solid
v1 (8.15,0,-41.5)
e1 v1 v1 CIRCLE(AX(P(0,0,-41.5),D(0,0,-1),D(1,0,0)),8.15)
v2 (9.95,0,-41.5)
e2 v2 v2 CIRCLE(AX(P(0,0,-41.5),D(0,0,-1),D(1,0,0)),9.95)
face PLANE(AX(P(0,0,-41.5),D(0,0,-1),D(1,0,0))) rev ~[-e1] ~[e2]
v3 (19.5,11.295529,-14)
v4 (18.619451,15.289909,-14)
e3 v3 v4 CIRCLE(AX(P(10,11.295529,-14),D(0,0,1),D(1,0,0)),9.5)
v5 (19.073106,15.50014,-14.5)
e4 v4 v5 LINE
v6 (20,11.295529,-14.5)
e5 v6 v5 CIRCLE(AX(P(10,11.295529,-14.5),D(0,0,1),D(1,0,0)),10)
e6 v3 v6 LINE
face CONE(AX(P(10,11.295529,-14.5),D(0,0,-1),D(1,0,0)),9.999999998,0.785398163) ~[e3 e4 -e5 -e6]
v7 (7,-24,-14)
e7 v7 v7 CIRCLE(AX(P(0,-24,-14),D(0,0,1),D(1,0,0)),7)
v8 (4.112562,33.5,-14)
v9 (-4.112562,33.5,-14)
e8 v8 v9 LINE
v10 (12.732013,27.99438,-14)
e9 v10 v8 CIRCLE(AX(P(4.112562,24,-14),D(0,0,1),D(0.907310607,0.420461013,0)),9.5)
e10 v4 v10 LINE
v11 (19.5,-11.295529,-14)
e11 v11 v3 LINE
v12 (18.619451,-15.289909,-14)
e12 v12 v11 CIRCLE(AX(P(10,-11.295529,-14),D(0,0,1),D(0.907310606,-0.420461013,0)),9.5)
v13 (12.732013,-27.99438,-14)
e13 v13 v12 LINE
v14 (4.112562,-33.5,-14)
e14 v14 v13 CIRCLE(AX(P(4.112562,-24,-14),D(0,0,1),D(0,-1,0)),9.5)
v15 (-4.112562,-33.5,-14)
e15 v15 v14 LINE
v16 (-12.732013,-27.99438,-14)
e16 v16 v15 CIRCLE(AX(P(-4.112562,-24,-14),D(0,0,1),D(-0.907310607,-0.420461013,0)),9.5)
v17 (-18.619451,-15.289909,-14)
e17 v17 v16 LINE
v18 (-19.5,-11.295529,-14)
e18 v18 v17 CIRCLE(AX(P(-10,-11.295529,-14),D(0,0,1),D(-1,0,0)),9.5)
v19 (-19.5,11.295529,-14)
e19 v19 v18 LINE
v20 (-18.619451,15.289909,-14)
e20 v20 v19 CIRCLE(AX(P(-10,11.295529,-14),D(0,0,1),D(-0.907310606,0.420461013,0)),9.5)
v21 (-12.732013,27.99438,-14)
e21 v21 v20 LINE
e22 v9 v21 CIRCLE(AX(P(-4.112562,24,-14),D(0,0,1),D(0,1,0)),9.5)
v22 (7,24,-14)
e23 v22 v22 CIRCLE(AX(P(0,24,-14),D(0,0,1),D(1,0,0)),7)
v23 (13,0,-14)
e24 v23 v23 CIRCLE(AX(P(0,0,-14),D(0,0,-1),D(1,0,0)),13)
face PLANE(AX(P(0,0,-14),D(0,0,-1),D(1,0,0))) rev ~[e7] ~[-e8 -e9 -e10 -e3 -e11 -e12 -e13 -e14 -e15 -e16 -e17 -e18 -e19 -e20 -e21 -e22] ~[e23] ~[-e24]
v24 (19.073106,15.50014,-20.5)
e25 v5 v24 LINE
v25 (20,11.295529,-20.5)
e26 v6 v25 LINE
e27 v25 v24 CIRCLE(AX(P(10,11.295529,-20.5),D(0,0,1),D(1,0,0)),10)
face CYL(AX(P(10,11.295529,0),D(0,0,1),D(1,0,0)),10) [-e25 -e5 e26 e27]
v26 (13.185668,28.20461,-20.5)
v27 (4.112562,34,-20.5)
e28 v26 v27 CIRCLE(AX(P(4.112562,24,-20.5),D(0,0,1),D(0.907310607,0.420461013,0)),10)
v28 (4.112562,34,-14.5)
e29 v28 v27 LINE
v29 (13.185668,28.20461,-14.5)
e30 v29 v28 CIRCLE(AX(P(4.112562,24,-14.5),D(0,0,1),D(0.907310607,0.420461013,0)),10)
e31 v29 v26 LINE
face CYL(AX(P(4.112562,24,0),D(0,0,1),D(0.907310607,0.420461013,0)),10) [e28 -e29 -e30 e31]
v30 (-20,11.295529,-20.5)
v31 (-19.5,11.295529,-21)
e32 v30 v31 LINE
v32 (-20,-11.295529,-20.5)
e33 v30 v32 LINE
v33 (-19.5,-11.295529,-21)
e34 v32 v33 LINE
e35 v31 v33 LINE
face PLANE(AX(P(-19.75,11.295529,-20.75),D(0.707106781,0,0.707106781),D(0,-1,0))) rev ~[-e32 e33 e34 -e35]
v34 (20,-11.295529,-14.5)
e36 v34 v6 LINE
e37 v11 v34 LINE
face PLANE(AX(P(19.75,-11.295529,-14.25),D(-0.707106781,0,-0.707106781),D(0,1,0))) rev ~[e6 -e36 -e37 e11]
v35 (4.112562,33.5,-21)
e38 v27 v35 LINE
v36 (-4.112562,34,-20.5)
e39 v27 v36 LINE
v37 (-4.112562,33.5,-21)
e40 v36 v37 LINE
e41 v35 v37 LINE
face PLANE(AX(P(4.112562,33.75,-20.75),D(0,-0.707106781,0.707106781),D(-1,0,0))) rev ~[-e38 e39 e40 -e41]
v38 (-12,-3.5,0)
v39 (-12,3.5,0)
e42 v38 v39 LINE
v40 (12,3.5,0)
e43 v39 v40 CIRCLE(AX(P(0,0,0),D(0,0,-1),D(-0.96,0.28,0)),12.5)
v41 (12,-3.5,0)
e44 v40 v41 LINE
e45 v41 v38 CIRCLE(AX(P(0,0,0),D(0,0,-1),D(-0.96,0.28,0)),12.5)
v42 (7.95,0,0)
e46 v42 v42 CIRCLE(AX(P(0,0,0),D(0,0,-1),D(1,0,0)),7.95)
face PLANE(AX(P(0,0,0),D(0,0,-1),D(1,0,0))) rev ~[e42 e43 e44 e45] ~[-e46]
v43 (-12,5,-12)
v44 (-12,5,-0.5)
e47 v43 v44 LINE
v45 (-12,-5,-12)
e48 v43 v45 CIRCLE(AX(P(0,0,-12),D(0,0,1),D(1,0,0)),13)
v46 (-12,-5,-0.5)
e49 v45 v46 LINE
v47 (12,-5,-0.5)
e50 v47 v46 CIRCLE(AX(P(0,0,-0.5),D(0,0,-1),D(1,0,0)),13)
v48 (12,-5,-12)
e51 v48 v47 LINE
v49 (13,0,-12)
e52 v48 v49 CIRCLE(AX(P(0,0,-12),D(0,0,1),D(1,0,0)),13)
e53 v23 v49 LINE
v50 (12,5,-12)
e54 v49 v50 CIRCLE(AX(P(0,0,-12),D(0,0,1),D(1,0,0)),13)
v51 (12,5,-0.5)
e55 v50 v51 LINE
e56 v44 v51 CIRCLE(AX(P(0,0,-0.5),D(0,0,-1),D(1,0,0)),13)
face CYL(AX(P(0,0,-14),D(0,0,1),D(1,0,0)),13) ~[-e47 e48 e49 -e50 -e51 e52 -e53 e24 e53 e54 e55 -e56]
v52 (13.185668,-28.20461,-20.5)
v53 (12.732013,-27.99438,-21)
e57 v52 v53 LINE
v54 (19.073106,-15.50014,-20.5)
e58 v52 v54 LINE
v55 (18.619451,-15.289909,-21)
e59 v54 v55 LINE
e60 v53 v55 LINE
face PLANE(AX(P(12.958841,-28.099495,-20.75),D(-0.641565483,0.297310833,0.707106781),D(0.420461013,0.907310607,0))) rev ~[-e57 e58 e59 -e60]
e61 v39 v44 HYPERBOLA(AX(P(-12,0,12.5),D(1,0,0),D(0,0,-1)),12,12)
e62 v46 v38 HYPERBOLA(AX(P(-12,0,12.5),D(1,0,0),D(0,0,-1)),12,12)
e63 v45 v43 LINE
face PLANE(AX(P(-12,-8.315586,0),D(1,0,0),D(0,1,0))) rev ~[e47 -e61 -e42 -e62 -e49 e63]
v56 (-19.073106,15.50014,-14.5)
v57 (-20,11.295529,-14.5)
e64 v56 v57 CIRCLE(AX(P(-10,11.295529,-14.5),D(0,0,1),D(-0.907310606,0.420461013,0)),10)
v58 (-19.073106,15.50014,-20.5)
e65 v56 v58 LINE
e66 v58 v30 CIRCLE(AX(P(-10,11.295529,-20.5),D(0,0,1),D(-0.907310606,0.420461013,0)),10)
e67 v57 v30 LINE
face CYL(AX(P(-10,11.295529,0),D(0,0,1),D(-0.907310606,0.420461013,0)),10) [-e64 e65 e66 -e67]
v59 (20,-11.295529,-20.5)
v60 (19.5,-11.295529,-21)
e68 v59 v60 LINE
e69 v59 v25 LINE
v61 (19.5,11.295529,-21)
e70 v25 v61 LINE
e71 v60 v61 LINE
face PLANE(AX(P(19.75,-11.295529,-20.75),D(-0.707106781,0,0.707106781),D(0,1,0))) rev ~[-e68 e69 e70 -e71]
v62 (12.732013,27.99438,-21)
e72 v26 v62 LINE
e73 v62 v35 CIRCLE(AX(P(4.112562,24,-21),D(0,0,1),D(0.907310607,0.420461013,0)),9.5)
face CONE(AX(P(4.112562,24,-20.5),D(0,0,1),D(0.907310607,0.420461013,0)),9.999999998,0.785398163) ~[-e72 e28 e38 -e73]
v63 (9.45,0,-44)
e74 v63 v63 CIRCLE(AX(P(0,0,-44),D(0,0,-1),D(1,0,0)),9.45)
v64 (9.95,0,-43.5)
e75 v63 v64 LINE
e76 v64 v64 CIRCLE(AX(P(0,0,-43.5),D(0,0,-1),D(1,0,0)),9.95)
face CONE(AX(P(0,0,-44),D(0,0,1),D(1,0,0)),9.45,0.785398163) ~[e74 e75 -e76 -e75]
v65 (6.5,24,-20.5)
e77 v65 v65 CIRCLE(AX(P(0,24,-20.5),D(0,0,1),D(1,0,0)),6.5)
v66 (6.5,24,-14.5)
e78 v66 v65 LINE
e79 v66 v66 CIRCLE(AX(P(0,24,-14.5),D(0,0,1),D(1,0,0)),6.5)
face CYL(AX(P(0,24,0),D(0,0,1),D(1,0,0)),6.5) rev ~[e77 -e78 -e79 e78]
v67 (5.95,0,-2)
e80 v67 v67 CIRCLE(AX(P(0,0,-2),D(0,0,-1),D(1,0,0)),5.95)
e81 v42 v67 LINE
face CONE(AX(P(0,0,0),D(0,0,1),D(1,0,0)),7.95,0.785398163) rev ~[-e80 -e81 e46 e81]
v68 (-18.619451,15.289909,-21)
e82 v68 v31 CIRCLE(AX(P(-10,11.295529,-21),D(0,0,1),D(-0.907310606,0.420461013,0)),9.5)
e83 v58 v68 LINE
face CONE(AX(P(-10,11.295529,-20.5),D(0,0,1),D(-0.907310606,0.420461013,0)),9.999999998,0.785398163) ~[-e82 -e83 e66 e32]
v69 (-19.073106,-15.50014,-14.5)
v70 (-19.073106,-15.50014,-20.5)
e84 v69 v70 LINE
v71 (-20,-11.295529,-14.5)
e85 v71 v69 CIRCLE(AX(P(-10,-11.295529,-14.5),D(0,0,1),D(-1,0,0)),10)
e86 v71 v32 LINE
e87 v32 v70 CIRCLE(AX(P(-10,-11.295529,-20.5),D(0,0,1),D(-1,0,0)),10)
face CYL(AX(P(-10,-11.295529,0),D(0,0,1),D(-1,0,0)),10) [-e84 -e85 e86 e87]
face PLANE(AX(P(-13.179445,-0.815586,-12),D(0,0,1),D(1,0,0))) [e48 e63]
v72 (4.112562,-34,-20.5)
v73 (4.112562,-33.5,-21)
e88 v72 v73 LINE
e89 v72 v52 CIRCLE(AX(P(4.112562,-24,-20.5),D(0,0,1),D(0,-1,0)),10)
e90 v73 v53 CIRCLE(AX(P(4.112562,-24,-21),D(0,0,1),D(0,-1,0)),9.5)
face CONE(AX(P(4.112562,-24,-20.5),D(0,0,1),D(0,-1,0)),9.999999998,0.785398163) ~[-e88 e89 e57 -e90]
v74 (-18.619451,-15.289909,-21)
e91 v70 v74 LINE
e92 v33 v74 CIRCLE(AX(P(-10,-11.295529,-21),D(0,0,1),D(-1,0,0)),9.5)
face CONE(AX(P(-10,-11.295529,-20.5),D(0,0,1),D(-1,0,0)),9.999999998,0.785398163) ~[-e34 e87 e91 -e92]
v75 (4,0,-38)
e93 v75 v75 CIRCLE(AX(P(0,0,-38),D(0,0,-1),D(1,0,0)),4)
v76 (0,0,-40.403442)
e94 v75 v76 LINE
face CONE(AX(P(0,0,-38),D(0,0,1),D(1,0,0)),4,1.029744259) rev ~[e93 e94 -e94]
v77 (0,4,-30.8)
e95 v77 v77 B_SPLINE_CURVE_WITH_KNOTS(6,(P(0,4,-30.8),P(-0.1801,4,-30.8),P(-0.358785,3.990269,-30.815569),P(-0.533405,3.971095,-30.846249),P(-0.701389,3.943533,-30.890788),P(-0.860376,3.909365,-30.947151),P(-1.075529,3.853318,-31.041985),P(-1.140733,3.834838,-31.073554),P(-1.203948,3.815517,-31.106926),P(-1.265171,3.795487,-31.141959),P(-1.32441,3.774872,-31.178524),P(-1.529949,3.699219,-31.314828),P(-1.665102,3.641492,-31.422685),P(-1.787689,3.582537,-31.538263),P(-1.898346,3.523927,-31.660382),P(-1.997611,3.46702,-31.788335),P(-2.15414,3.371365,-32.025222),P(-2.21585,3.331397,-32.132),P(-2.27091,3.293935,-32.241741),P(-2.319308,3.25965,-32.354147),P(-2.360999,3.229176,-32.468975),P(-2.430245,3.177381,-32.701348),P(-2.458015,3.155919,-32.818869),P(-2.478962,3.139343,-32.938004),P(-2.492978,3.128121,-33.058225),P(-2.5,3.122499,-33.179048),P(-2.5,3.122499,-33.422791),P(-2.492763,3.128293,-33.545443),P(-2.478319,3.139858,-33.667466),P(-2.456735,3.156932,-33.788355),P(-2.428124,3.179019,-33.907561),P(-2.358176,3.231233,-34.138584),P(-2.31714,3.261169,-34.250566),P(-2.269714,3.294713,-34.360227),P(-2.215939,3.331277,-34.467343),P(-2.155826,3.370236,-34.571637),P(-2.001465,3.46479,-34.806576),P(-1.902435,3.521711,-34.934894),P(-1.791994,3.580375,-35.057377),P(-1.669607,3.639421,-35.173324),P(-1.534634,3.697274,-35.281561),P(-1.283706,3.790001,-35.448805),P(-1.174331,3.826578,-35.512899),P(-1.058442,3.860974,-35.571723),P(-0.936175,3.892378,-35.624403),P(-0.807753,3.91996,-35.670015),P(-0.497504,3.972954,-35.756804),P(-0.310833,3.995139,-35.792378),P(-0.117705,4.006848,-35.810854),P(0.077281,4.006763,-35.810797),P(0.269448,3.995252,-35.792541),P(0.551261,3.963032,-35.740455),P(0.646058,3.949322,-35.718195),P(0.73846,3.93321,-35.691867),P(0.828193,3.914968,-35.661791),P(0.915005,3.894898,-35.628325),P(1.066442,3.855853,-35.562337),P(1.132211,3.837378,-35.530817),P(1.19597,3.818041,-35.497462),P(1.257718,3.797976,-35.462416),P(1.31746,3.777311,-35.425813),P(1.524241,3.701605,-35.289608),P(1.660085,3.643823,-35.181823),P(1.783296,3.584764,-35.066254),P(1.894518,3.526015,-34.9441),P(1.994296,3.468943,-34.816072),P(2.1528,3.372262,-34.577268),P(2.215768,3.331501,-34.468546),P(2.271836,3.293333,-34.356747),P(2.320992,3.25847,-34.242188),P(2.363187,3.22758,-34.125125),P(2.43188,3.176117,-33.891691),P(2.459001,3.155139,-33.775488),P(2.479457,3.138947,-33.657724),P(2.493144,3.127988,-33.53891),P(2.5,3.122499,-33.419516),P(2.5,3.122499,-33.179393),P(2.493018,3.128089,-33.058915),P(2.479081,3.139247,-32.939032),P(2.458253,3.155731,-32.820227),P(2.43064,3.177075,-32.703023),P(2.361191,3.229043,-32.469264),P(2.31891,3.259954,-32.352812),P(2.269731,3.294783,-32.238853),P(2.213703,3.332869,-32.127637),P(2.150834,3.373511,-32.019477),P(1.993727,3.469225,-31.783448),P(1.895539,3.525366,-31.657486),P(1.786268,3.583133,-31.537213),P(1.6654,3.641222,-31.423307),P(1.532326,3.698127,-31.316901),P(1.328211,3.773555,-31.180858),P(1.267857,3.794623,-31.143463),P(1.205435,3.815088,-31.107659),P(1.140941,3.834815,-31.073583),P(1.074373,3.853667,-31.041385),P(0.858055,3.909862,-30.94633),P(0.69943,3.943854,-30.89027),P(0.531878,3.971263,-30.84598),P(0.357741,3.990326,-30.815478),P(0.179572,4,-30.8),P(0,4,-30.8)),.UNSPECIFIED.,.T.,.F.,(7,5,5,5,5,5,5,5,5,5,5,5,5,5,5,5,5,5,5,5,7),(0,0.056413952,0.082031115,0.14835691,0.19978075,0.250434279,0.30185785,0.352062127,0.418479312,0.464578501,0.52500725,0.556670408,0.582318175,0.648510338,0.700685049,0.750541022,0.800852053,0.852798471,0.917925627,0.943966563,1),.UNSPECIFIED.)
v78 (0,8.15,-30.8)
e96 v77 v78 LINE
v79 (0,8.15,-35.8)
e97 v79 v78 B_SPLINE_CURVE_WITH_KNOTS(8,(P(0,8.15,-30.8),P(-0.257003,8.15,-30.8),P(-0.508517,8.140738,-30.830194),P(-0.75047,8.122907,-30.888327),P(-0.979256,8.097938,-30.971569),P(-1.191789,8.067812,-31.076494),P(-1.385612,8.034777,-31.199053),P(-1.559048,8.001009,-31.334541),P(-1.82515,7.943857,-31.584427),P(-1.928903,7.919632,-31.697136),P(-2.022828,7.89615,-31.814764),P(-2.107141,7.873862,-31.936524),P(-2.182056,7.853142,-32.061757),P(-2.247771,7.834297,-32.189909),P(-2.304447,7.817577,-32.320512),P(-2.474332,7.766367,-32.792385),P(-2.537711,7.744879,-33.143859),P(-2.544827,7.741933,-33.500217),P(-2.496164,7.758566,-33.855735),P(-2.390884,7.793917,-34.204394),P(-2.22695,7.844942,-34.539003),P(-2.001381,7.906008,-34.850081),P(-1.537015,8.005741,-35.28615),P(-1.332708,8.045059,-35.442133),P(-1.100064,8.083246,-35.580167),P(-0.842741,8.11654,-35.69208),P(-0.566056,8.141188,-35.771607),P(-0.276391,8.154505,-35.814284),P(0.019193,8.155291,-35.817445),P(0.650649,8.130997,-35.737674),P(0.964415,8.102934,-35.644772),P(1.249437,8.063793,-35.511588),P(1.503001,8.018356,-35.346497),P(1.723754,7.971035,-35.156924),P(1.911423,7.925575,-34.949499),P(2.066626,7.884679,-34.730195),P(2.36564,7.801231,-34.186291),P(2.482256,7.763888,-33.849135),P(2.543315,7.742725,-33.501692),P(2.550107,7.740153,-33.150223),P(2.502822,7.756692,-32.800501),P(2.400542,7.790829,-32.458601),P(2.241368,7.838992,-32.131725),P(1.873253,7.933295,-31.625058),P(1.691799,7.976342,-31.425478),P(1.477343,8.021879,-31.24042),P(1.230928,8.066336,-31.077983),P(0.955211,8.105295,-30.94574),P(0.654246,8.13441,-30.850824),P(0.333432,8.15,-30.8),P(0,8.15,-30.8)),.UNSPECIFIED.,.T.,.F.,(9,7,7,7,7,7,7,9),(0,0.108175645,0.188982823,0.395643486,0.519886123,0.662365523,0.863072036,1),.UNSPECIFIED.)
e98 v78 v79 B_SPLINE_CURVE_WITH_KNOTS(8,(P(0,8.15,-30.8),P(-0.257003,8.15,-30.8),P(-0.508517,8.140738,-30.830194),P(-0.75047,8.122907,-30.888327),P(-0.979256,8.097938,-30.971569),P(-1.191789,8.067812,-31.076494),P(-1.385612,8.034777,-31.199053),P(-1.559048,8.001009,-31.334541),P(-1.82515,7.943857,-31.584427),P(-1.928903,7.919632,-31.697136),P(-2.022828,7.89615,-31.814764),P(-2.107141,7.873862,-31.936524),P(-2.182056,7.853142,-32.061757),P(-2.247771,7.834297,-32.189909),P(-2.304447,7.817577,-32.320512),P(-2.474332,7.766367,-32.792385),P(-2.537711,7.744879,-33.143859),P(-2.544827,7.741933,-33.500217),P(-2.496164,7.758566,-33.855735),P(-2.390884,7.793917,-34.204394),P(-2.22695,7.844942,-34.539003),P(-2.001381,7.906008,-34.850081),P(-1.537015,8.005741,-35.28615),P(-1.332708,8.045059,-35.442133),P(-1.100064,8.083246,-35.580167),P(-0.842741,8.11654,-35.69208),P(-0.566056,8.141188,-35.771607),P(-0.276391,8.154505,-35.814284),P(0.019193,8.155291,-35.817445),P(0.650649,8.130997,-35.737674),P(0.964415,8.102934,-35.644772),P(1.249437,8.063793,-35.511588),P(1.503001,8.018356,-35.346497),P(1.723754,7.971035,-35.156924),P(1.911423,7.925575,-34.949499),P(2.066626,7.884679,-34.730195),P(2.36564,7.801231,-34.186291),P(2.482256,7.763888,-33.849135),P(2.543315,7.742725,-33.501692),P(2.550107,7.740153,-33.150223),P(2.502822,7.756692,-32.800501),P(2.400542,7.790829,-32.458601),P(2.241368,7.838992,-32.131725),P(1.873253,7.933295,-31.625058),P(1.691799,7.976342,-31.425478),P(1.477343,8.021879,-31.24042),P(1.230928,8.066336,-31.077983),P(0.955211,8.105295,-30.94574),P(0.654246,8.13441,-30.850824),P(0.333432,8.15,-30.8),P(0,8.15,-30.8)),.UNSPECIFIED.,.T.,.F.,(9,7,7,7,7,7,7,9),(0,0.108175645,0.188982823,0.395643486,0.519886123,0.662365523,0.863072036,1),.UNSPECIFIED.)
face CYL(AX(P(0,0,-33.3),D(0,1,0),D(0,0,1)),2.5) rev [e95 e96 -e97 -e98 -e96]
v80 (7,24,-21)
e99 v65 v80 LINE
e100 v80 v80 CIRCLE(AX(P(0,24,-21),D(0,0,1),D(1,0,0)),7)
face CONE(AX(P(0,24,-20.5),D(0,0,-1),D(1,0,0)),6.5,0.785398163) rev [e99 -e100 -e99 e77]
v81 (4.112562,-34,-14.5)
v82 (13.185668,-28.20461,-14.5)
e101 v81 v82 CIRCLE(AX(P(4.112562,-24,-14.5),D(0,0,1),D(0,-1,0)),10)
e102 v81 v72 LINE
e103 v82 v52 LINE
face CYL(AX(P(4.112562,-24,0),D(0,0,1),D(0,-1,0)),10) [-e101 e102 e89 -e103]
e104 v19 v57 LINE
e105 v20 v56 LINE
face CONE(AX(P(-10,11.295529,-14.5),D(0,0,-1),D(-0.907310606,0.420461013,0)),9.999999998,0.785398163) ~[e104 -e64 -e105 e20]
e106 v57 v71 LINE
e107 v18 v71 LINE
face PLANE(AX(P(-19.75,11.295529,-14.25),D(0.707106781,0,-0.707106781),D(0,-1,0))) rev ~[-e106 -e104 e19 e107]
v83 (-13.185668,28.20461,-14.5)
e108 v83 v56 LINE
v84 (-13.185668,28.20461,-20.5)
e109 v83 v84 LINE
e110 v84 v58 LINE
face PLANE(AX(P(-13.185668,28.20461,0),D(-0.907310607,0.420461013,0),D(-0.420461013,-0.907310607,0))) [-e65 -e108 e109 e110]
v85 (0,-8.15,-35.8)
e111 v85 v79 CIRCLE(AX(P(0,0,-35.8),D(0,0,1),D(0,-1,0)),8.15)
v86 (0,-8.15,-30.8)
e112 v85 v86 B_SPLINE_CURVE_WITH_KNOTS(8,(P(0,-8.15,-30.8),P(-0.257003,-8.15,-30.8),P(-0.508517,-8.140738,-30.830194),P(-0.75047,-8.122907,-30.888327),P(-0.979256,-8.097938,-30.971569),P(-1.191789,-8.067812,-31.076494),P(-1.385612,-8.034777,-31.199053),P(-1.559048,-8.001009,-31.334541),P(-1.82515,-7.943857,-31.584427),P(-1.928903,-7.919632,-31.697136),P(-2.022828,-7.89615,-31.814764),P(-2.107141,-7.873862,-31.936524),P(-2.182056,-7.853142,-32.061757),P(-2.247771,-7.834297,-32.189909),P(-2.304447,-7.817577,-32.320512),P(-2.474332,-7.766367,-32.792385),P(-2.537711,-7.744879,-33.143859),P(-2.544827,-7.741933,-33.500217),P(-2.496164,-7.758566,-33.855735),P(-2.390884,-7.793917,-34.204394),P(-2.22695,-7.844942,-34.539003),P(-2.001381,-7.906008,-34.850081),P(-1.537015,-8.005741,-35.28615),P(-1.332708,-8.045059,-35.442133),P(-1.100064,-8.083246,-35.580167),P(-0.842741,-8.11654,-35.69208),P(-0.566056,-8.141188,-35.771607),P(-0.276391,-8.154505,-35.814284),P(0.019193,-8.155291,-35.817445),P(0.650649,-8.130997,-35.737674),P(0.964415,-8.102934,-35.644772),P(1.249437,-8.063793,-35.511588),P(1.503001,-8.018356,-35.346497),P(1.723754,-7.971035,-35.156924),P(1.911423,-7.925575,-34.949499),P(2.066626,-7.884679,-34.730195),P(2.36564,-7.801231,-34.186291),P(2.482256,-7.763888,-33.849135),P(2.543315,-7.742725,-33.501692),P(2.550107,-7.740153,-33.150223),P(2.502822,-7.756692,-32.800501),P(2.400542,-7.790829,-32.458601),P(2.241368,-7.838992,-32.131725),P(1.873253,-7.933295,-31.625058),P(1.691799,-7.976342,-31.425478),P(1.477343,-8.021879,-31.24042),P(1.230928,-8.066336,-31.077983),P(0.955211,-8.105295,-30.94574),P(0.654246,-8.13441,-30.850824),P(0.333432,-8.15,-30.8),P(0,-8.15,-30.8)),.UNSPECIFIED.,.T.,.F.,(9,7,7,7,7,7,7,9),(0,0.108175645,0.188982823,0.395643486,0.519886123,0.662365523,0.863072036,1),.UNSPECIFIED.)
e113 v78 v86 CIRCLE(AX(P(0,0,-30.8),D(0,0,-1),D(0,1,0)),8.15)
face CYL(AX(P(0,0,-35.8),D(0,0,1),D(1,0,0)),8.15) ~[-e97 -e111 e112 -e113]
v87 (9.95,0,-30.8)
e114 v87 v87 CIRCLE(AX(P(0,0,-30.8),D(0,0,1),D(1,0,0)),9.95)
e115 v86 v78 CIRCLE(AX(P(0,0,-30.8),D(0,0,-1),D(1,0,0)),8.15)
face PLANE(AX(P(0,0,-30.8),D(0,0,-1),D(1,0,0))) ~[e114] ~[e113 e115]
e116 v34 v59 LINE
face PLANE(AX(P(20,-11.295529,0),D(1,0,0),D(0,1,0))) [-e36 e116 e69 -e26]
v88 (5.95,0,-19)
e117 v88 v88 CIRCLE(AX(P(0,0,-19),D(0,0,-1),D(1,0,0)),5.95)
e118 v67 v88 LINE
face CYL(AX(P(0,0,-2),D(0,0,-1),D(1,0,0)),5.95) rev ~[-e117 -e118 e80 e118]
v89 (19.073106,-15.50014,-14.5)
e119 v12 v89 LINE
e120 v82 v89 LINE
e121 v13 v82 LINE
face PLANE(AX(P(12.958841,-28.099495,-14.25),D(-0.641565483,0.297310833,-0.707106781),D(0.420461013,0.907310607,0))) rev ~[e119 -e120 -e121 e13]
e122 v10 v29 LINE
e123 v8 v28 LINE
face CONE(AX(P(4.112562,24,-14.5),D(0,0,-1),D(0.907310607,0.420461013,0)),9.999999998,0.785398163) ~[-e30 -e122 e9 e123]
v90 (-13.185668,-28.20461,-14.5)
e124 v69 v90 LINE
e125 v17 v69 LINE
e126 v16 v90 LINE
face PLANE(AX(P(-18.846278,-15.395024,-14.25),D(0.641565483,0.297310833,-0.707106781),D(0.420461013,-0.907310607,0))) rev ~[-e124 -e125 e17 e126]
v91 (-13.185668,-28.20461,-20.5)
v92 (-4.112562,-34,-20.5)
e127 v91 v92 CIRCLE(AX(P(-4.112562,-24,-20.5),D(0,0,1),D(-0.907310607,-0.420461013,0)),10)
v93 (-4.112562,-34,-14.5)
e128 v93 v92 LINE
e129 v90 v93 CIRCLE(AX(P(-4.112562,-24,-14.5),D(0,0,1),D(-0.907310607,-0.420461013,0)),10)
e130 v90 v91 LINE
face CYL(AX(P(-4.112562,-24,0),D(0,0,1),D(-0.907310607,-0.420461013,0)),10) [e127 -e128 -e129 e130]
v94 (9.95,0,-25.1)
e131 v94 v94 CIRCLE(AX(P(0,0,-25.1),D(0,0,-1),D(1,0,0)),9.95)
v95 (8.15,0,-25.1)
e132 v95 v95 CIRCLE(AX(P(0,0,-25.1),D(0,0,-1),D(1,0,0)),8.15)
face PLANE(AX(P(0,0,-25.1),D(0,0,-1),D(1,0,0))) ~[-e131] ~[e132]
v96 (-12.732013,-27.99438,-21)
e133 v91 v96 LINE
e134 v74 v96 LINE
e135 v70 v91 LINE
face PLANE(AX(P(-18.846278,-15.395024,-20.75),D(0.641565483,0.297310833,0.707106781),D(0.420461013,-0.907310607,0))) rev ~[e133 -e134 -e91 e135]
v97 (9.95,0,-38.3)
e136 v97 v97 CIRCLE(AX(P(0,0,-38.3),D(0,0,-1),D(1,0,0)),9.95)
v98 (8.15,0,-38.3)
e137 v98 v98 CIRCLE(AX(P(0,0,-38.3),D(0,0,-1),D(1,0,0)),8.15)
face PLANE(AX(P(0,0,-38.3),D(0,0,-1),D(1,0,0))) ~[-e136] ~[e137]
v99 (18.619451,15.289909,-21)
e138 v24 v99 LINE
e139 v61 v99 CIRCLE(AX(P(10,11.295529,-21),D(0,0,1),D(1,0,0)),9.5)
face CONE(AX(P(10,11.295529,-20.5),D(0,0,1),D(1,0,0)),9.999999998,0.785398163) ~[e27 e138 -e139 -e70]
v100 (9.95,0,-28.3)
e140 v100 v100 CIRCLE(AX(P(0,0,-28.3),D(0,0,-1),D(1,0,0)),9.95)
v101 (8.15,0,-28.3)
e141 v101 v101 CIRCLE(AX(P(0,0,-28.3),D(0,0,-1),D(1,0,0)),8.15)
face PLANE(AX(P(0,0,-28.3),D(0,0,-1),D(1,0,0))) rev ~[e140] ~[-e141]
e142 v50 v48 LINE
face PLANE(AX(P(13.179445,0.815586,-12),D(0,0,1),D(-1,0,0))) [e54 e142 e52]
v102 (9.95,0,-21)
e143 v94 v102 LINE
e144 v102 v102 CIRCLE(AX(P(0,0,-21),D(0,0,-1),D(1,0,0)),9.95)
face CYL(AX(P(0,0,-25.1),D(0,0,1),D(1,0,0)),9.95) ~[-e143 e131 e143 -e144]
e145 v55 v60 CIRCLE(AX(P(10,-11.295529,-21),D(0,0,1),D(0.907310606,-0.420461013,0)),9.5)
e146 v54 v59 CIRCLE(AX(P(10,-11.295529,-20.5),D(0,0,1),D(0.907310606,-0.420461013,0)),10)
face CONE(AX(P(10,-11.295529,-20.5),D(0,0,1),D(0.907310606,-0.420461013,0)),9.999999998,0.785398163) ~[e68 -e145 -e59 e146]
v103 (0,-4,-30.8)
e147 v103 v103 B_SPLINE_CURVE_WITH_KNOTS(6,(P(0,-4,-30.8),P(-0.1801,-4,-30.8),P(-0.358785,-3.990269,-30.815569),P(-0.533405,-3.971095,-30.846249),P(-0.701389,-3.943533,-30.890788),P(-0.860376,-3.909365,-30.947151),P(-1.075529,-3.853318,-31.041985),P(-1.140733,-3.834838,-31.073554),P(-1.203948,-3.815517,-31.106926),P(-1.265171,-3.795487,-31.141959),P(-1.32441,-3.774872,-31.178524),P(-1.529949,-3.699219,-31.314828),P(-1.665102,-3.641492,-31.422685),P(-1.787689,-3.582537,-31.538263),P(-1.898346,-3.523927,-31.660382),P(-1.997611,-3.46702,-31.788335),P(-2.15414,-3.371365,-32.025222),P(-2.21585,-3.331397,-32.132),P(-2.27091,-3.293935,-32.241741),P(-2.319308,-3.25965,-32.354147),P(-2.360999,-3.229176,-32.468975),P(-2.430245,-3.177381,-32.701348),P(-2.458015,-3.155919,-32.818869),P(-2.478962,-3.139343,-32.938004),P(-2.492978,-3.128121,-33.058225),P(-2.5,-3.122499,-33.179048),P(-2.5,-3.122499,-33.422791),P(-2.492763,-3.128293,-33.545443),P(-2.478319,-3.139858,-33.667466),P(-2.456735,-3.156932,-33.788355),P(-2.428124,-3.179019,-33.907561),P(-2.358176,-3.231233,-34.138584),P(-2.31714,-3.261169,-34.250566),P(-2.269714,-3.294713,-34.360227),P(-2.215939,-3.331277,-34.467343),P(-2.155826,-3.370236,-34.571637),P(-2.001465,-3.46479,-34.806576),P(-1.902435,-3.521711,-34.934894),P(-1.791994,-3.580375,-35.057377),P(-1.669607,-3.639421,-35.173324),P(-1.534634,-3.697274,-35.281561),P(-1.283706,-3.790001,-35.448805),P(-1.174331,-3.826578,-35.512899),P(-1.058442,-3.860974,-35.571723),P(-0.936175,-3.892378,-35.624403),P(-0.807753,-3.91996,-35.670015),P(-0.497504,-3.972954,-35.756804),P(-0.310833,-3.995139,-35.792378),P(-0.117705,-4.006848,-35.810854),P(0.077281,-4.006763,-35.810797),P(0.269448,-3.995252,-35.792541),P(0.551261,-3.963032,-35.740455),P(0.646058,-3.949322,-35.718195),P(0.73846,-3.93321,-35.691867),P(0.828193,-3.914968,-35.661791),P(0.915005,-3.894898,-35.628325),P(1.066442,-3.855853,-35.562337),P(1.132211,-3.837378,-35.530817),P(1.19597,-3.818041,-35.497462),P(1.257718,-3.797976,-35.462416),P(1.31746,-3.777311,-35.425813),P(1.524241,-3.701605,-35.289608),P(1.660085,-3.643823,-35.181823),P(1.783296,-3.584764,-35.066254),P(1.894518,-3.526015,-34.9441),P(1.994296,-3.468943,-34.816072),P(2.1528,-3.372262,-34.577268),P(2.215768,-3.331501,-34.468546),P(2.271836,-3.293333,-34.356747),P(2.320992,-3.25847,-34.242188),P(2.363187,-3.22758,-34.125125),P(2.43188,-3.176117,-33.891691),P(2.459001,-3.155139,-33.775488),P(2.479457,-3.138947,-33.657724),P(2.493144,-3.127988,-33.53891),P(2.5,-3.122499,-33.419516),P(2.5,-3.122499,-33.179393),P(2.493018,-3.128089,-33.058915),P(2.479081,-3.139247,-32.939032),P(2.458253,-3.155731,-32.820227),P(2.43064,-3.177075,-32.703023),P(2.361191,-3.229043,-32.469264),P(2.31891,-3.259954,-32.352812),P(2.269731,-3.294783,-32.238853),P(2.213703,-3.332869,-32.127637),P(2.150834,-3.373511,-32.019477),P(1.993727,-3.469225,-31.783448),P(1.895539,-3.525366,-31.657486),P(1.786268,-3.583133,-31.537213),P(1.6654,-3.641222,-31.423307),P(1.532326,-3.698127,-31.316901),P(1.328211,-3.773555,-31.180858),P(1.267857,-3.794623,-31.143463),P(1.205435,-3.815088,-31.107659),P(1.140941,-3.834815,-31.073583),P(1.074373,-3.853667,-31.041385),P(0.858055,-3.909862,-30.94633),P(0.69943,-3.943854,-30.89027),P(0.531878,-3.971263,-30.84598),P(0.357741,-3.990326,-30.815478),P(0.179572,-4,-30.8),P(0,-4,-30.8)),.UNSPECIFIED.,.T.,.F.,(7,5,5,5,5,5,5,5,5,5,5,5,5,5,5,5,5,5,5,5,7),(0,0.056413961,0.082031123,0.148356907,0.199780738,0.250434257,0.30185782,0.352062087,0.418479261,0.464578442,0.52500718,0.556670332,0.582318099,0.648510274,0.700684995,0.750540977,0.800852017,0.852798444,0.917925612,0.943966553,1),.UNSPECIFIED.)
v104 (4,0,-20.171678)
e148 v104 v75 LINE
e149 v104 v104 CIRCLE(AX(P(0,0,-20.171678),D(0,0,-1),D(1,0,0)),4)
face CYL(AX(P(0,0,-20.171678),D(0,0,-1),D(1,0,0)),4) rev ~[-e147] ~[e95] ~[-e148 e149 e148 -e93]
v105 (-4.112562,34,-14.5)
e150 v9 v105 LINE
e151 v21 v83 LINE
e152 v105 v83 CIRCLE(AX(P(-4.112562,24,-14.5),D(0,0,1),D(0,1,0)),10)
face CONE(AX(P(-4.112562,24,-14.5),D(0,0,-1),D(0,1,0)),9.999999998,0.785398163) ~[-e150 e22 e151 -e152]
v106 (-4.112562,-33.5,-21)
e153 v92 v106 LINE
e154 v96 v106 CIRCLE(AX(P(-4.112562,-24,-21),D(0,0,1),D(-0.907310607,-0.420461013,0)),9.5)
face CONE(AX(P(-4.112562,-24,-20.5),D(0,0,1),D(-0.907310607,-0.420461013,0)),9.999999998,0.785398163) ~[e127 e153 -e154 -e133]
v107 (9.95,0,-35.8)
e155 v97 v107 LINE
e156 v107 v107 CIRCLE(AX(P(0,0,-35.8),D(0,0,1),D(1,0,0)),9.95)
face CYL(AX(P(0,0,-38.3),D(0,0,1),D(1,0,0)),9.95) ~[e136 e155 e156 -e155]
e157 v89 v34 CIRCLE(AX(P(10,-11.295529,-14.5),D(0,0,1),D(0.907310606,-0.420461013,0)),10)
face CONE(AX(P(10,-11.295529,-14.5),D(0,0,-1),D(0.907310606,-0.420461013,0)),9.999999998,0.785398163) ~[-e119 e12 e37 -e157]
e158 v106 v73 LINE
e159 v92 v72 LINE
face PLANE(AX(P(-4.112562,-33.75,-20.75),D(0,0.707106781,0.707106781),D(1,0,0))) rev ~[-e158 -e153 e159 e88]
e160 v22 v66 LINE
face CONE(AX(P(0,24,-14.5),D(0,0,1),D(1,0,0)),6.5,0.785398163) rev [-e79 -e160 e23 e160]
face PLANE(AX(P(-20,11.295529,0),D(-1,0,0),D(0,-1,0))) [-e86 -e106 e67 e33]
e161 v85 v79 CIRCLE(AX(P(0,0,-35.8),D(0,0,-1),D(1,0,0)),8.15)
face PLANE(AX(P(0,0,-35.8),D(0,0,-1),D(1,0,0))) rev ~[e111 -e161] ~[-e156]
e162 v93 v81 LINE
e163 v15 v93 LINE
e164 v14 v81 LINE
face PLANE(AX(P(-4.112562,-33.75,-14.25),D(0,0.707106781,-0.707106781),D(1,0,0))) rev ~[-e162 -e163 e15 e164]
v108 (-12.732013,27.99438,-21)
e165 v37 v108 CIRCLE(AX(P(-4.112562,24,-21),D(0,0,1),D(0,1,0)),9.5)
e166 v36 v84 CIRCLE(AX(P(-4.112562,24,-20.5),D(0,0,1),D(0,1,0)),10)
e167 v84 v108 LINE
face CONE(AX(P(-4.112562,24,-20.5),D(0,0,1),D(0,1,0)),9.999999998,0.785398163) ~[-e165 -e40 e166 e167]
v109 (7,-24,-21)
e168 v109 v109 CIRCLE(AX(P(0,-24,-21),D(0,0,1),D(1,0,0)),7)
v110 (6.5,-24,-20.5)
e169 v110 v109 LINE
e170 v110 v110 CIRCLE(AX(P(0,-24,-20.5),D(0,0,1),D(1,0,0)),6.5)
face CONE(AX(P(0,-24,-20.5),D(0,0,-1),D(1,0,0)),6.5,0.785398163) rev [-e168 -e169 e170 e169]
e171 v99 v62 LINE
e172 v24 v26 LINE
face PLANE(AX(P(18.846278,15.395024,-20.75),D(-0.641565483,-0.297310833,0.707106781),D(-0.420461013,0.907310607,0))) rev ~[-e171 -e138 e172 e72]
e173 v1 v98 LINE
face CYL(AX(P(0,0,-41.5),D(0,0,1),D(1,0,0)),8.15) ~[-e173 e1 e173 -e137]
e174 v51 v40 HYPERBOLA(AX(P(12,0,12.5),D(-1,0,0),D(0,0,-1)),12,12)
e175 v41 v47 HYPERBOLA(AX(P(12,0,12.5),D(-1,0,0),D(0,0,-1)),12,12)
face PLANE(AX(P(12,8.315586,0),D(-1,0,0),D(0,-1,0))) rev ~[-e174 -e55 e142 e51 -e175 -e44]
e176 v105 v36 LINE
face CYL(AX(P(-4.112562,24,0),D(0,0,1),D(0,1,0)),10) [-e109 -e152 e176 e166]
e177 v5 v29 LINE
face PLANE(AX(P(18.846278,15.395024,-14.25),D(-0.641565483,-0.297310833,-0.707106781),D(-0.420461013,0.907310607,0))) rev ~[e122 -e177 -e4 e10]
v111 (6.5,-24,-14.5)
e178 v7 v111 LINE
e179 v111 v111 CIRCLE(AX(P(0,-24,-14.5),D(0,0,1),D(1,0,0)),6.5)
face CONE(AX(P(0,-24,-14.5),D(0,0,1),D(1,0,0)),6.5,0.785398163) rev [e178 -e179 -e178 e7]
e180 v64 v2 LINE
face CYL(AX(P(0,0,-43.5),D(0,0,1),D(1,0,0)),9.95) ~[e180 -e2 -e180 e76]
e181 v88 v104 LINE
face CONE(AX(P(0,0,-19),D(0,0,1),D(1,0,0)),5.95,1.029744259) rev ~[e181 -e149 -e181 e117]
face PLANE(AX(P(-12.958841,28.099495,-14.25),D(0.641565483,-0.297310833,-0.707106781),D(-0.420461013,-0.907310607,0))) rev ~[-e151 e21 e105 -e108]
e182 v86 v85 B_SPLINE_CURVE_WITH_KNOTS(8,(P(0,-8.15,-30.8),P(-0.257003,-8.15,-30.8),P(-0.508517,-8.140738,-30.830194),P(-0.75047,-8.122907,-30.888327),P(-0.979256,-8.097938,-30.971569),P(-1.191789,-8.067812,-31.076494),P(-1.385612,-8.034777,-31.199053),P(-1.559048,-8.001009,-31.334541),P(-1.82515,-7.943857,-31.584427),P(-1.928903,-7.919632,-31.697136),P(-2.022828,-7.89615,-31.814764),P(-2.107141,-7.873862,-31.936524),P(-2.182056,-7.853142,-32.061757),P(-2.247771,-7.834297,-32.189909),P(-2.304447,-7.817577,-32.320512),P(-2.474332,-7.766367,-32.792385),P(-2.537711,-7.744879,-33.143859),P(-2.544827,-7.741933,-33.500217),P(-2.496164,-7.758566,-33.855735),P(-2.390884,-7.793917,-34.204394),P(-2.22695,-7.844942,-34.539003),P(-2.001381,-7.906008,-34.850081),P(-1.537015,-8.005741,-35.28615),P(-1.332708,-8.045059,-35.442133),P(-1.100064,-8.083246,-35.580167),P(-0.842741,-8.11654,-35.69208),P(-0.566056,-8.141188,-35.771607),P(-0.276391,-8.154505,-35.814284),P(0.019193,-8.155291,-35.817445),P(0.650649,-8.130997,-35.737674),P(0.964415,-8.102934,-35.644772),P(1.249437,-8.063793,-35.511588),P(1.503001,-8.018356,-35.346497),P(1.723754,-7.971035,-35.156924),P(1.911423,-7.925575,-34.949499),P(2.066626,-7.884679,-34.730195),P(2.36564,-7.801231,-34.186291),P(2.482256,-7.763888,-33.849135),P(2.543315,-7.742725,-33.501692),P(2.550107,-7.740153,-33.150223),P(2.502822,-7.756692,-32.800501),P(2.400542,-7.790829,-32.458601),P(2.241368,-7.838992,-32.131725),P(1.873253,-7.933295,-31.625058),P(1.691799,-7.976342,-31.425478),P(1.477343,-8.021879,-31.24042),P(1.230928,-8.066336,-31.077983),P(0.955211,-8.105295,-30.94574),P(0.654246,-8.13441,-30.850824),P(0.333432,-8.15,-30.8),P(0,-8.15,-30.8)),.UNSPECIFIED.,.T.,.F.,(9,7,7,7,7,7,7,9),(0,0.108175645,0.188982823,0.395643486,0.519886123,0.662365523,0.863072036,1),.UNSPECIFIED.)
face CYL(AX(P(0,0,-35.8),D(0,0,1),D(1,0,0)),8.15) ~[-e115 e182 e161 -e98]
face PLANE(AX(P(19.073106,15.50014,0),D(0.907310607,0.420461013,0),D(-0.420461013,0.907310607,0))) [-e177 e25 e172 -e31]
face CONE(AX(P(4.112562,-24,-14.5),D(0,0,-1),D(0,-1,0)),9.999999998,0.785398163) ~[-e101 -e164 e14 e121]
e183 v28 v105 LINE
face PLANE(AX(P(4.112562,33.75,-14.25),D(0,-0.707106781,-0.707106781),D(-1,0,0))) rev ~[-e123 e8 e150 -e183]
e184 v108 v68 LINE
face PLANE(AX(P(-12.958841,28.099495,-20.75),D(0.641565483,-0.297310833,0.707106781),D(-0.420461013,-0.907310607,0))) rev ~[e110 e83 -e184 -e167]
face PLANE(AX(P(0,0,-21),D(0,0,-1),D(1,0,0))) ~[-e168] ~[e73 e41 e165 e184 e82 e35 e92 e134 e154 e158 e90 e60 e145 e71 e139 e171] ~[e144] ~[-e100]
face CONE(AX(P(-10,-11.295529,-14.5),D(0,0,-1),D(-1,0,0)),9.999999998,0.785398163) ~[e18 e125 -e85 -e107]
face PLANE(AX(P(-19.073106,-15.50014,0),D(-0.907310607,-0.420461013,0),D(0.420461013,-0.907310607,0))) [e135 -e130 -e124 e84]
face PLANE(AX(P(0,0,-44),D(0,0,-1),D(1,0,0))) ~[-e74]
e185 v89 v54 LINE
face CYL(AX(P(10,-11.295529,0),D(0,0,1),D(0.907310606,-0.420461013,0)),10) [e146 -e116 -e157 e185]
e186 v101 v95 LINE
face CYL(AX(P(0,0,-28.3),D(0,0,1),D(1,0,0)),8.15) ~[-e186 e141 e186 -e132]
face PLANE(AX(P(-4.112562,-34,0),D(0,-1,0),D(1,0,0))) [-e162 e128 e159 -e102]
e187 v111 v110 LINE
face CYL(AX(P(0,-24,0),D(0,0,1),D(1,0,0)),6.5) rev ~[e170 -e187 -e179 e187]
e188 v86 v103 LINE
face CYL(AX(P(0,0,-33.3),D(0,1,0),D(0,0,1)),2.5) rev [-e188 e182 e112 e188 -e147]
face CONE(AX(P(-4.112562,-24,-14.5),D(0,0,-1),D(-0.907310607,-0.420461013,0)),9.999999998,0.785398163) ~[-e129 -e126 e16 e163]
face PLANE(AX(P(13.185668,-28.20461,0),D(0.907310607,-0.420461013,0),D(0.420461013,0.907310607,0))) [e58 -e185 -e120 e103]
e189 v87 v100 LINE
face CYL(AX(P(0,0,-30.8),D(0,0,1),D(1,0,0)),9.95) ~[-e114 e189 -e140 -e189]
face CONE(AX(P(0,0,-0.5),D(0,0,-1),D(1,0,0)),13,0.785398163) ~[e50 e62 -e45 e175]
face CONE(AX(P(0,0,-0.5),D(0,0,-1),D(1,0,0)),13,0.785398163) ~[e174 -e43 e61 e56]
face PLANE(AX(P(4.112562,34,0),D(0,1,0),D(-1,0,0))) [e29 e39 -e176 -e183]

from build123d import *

# Parameters (mm, degrees)
SKETCH3_OUTSIDE_W  = 93.666
SKETCH3_OUTSIDE_H  = 93.666
SKETCH3_OUTSIDE_R  = 6.5
CUT_EXTRUDE1_DEPTH = 21
SKETCH4_W          = 2.5
SKETCH4_H          = 24.819260196
SKETCH7_W          = 2.358889098
SKETCH7_H          = 15
CUT_EXTRUDE2_DEPTH = 12
CIRPATTERN1_COUNT  = 2
CIRPATTERN1_ANGLE  = 180
CHAMFER1_SIZE      = 0.5


with BuildPart() as part:
    # Sketch1 → Revolve1 (revolve)
    with BuildSketch(Plane(origin=(0, 0, 0), x_dir=(0, 0, -1), z_dir=(1, 0, 0)), mode=Mode.PRIVATE) as revolve1_sk:
        Polygon((14, 13), (0.5, 13), (0, 12.5), (0, 7.95), (2, 5.95), (19, 5.95), (20.171678207, 4), (38, 4), (40.403442476, 0), (44, 0), (44, 9.45), (43.5, 9.95), (41.5, 9.95), (41.5, 8.15), (38.3, 8.15), (38.3, 9.95), (35.8, 9.95), (35.8, 8.15), (30.8, 8.15), (30.8, 9.95), (28.3, 9.95), (28.3, 8.15), (25.1, 8.15), (25.1, 9.95), (21, 9.95), (21, 35), (14, 35), align=None)
    revolve(revolve1_sk.sketch.rotate(Axis((0, 0, 0), (0, 0, -1)), 90), axis=Axis((0, 0, 0), (0, 0, -1)))

    # Sketch3 outside → Cut-Extrude1 (cut)
    # profile 1 of 3: a face of its own
    with BuildSketch(Plane.XY):
        Rectangle(SKETCH3_OUTSIDE_W, SKETCH3_OUTSIDE_H)
        with BuildLine():
            Line((-20, 11.295529415), (-20, -11.295529415))
            ThreePointArc((-20, -11.295529415), (-19.765527652, -13.448311261), (-19.073106065, -15.500139543))
            Line((-19.073106065, -15.500139543), (-13.185668477, -28.204610128))
            ThreePointArc((-13.185668477, -28.204610128), (-9.495586596, -32.427517466), (-4.112562412, -34))
            Line((-4.112562412, -34), (4.112562412, -34))
            ThreePointArc((4.112562412, -34), (9.495586596, -32.427517466), (13.185668477, -28.204610128))
            Line((13.185668477, -28.204610128), (19.073106065, -15.500139543))
            ThreePointArc((19.073106065, -15.500139543), (19.765527652, -13.448311261), (20, -11.295529415))
            Line((20, -11.295529415), (20, 11.295529415))
            ThreePointArc((20, 11.295529415), (19.765527652, 13.448311261), (19.073106065, 15.500139543))
            Line((19.073106065, 15.500139543), (13.185668477, 28.204610128))
            ThreePointArc((13.185668477, 28.204610128), (9.495586596, 32.427517466), (4.112562412, 34))
            Line((4.112562412, 34), (-4.112562412, 34))
            ThreePointArc((-4.112562412, 34), (-9.495586596, 32.427517466), (-13.185668477, 28.204610128))
            Line((-13.185668477, 28.204610128), (-19.073106065, 15.500139543))
            ThreePointArc((-19.073106065, 15.500139543), (-19.765527652, 13.448311261), (-20, 11.295529415))
        make_face(mode=Mode.SUBTRACT)
    # profile 2 of 3: a face of its own
    with BuildSketch(Plane.XY):
        with Locations((0, 24)):
            Circle(SKETCH3_OUTSIDE_R)
    # profile 3 of 3: a face of its own
    with BuildSketch(Plane.XY):
        with Locations((0, -24)):
            Circle(SKETCH3_OUTSIDE_R)
    extrude(amount=-CUT_EXTRUDE1_DEPTH, mode=Mode.SUBTRACT)

    # Sketch4 → Cut-Revolve1 (revolve, cut)
    with BuildSketch(Plane(origin=(0, 0, 0), x_dir=(0, 0, -1), z_dir=(1, 0, 0)), mode=Mode.PRIVATE) as cut_revolve1_sk:
        with Locations((34.55, 0)):
            Rectangle(SKETCH4_W, SKETCH4_H)
    revolve(cut_revolve1_sk.sketch.rotate(Axis((0, 12.409630098, -33.3), (0, -1, 0)), 180), axis=Axis((0, 12.409630098, -33.3), (0, -1, 0)), mode=Mode.SUBTRACT)

    # Sketch7 → Cut-Extrude2 (cut)
    with BuildSketch(Plane.XY):
        with Locations((-13.179444549, -0.815585695)):
            Rectangle(SKETCH7_W, SKETCH7_H)
    cut_extrude2 = extrude(amount=-CUT_EXTRUDE2_DEPTH, mode=Mode.SUBTRACT)

    # CirPattern1: Cut-Extrude2 ×2 about axis
    cirpattern1_axis = Axis((0, 0, 0), (0, 0, 1))
    for i in range(1, CIRPATTERN1_COUNT):
        add(cut_extrude2.rotate(cirpattern1_axis, i * CIRPATTERN1_ANGLE / (CIRPATTERN1_COUNT - 1)), mode=Mode.SUBTRACT)

    # Chamfer1
    chamfer1_edges = [part.edges().sort_by_distance(p)[0] for p in [
        (-6.5, 24, -21),
        (-6.5, 24, -14),
        (-6.5, -24, -21),
        (-6.5, -24, -14),
        (0, 34, -21),
        (-9.495586596, 32.427517466, -21),
        (-16.129387271, 21.852374836, -21),
        (-19.765527652, 13.448311261, -21),
        (-20, 0, -21),
        (-19.765527652, -13.448311261, -21),
        (-16.129387271, -21.852374836, -21),
        (-9.495586596, -32.427517466, -21),
        (0, -34, -21),
        (9.495586596, -32.427517466, -21),
        (16.129387271, -21.852374836, -21),
        (19.765527652, -13.448311261, -21),
        (20, 0, -21),
        (19.765527652, 13.448311261, -21),
        (16.129387271, 21.852374836, -21),
        (9.495586596, 32.427517466, -21),
        (-9.495586596, 32.427517466, -14),
        (0, 34, -14),
        (9.495586596, 32.427517466, -14),
        (16.129387271, 21.852374836, -14),
        (19.765527652, 13.448311261, -14),
        (20, 0, -14),
        (19.765527652, -13.448311261, -14),
        (16.129387271, -21.852374836, -14),
        (9.495586596, -32.427517466, -14),
        (0, -34, -14),
        (-9.495586596, -32.427517466, -14),
        (-16.129387271, -21.852374836, -14),
        (-19.765527652, -13.448311261, -14),
        (-20, 0, -14),
        (-19.765527652, 13.448311261, -14),
        (-16.129387271, 21.852374836, -14),
    ]]
    chamfer(chamfer1_edges, length=CHAMFER1_SIZE)


solid = part.part
